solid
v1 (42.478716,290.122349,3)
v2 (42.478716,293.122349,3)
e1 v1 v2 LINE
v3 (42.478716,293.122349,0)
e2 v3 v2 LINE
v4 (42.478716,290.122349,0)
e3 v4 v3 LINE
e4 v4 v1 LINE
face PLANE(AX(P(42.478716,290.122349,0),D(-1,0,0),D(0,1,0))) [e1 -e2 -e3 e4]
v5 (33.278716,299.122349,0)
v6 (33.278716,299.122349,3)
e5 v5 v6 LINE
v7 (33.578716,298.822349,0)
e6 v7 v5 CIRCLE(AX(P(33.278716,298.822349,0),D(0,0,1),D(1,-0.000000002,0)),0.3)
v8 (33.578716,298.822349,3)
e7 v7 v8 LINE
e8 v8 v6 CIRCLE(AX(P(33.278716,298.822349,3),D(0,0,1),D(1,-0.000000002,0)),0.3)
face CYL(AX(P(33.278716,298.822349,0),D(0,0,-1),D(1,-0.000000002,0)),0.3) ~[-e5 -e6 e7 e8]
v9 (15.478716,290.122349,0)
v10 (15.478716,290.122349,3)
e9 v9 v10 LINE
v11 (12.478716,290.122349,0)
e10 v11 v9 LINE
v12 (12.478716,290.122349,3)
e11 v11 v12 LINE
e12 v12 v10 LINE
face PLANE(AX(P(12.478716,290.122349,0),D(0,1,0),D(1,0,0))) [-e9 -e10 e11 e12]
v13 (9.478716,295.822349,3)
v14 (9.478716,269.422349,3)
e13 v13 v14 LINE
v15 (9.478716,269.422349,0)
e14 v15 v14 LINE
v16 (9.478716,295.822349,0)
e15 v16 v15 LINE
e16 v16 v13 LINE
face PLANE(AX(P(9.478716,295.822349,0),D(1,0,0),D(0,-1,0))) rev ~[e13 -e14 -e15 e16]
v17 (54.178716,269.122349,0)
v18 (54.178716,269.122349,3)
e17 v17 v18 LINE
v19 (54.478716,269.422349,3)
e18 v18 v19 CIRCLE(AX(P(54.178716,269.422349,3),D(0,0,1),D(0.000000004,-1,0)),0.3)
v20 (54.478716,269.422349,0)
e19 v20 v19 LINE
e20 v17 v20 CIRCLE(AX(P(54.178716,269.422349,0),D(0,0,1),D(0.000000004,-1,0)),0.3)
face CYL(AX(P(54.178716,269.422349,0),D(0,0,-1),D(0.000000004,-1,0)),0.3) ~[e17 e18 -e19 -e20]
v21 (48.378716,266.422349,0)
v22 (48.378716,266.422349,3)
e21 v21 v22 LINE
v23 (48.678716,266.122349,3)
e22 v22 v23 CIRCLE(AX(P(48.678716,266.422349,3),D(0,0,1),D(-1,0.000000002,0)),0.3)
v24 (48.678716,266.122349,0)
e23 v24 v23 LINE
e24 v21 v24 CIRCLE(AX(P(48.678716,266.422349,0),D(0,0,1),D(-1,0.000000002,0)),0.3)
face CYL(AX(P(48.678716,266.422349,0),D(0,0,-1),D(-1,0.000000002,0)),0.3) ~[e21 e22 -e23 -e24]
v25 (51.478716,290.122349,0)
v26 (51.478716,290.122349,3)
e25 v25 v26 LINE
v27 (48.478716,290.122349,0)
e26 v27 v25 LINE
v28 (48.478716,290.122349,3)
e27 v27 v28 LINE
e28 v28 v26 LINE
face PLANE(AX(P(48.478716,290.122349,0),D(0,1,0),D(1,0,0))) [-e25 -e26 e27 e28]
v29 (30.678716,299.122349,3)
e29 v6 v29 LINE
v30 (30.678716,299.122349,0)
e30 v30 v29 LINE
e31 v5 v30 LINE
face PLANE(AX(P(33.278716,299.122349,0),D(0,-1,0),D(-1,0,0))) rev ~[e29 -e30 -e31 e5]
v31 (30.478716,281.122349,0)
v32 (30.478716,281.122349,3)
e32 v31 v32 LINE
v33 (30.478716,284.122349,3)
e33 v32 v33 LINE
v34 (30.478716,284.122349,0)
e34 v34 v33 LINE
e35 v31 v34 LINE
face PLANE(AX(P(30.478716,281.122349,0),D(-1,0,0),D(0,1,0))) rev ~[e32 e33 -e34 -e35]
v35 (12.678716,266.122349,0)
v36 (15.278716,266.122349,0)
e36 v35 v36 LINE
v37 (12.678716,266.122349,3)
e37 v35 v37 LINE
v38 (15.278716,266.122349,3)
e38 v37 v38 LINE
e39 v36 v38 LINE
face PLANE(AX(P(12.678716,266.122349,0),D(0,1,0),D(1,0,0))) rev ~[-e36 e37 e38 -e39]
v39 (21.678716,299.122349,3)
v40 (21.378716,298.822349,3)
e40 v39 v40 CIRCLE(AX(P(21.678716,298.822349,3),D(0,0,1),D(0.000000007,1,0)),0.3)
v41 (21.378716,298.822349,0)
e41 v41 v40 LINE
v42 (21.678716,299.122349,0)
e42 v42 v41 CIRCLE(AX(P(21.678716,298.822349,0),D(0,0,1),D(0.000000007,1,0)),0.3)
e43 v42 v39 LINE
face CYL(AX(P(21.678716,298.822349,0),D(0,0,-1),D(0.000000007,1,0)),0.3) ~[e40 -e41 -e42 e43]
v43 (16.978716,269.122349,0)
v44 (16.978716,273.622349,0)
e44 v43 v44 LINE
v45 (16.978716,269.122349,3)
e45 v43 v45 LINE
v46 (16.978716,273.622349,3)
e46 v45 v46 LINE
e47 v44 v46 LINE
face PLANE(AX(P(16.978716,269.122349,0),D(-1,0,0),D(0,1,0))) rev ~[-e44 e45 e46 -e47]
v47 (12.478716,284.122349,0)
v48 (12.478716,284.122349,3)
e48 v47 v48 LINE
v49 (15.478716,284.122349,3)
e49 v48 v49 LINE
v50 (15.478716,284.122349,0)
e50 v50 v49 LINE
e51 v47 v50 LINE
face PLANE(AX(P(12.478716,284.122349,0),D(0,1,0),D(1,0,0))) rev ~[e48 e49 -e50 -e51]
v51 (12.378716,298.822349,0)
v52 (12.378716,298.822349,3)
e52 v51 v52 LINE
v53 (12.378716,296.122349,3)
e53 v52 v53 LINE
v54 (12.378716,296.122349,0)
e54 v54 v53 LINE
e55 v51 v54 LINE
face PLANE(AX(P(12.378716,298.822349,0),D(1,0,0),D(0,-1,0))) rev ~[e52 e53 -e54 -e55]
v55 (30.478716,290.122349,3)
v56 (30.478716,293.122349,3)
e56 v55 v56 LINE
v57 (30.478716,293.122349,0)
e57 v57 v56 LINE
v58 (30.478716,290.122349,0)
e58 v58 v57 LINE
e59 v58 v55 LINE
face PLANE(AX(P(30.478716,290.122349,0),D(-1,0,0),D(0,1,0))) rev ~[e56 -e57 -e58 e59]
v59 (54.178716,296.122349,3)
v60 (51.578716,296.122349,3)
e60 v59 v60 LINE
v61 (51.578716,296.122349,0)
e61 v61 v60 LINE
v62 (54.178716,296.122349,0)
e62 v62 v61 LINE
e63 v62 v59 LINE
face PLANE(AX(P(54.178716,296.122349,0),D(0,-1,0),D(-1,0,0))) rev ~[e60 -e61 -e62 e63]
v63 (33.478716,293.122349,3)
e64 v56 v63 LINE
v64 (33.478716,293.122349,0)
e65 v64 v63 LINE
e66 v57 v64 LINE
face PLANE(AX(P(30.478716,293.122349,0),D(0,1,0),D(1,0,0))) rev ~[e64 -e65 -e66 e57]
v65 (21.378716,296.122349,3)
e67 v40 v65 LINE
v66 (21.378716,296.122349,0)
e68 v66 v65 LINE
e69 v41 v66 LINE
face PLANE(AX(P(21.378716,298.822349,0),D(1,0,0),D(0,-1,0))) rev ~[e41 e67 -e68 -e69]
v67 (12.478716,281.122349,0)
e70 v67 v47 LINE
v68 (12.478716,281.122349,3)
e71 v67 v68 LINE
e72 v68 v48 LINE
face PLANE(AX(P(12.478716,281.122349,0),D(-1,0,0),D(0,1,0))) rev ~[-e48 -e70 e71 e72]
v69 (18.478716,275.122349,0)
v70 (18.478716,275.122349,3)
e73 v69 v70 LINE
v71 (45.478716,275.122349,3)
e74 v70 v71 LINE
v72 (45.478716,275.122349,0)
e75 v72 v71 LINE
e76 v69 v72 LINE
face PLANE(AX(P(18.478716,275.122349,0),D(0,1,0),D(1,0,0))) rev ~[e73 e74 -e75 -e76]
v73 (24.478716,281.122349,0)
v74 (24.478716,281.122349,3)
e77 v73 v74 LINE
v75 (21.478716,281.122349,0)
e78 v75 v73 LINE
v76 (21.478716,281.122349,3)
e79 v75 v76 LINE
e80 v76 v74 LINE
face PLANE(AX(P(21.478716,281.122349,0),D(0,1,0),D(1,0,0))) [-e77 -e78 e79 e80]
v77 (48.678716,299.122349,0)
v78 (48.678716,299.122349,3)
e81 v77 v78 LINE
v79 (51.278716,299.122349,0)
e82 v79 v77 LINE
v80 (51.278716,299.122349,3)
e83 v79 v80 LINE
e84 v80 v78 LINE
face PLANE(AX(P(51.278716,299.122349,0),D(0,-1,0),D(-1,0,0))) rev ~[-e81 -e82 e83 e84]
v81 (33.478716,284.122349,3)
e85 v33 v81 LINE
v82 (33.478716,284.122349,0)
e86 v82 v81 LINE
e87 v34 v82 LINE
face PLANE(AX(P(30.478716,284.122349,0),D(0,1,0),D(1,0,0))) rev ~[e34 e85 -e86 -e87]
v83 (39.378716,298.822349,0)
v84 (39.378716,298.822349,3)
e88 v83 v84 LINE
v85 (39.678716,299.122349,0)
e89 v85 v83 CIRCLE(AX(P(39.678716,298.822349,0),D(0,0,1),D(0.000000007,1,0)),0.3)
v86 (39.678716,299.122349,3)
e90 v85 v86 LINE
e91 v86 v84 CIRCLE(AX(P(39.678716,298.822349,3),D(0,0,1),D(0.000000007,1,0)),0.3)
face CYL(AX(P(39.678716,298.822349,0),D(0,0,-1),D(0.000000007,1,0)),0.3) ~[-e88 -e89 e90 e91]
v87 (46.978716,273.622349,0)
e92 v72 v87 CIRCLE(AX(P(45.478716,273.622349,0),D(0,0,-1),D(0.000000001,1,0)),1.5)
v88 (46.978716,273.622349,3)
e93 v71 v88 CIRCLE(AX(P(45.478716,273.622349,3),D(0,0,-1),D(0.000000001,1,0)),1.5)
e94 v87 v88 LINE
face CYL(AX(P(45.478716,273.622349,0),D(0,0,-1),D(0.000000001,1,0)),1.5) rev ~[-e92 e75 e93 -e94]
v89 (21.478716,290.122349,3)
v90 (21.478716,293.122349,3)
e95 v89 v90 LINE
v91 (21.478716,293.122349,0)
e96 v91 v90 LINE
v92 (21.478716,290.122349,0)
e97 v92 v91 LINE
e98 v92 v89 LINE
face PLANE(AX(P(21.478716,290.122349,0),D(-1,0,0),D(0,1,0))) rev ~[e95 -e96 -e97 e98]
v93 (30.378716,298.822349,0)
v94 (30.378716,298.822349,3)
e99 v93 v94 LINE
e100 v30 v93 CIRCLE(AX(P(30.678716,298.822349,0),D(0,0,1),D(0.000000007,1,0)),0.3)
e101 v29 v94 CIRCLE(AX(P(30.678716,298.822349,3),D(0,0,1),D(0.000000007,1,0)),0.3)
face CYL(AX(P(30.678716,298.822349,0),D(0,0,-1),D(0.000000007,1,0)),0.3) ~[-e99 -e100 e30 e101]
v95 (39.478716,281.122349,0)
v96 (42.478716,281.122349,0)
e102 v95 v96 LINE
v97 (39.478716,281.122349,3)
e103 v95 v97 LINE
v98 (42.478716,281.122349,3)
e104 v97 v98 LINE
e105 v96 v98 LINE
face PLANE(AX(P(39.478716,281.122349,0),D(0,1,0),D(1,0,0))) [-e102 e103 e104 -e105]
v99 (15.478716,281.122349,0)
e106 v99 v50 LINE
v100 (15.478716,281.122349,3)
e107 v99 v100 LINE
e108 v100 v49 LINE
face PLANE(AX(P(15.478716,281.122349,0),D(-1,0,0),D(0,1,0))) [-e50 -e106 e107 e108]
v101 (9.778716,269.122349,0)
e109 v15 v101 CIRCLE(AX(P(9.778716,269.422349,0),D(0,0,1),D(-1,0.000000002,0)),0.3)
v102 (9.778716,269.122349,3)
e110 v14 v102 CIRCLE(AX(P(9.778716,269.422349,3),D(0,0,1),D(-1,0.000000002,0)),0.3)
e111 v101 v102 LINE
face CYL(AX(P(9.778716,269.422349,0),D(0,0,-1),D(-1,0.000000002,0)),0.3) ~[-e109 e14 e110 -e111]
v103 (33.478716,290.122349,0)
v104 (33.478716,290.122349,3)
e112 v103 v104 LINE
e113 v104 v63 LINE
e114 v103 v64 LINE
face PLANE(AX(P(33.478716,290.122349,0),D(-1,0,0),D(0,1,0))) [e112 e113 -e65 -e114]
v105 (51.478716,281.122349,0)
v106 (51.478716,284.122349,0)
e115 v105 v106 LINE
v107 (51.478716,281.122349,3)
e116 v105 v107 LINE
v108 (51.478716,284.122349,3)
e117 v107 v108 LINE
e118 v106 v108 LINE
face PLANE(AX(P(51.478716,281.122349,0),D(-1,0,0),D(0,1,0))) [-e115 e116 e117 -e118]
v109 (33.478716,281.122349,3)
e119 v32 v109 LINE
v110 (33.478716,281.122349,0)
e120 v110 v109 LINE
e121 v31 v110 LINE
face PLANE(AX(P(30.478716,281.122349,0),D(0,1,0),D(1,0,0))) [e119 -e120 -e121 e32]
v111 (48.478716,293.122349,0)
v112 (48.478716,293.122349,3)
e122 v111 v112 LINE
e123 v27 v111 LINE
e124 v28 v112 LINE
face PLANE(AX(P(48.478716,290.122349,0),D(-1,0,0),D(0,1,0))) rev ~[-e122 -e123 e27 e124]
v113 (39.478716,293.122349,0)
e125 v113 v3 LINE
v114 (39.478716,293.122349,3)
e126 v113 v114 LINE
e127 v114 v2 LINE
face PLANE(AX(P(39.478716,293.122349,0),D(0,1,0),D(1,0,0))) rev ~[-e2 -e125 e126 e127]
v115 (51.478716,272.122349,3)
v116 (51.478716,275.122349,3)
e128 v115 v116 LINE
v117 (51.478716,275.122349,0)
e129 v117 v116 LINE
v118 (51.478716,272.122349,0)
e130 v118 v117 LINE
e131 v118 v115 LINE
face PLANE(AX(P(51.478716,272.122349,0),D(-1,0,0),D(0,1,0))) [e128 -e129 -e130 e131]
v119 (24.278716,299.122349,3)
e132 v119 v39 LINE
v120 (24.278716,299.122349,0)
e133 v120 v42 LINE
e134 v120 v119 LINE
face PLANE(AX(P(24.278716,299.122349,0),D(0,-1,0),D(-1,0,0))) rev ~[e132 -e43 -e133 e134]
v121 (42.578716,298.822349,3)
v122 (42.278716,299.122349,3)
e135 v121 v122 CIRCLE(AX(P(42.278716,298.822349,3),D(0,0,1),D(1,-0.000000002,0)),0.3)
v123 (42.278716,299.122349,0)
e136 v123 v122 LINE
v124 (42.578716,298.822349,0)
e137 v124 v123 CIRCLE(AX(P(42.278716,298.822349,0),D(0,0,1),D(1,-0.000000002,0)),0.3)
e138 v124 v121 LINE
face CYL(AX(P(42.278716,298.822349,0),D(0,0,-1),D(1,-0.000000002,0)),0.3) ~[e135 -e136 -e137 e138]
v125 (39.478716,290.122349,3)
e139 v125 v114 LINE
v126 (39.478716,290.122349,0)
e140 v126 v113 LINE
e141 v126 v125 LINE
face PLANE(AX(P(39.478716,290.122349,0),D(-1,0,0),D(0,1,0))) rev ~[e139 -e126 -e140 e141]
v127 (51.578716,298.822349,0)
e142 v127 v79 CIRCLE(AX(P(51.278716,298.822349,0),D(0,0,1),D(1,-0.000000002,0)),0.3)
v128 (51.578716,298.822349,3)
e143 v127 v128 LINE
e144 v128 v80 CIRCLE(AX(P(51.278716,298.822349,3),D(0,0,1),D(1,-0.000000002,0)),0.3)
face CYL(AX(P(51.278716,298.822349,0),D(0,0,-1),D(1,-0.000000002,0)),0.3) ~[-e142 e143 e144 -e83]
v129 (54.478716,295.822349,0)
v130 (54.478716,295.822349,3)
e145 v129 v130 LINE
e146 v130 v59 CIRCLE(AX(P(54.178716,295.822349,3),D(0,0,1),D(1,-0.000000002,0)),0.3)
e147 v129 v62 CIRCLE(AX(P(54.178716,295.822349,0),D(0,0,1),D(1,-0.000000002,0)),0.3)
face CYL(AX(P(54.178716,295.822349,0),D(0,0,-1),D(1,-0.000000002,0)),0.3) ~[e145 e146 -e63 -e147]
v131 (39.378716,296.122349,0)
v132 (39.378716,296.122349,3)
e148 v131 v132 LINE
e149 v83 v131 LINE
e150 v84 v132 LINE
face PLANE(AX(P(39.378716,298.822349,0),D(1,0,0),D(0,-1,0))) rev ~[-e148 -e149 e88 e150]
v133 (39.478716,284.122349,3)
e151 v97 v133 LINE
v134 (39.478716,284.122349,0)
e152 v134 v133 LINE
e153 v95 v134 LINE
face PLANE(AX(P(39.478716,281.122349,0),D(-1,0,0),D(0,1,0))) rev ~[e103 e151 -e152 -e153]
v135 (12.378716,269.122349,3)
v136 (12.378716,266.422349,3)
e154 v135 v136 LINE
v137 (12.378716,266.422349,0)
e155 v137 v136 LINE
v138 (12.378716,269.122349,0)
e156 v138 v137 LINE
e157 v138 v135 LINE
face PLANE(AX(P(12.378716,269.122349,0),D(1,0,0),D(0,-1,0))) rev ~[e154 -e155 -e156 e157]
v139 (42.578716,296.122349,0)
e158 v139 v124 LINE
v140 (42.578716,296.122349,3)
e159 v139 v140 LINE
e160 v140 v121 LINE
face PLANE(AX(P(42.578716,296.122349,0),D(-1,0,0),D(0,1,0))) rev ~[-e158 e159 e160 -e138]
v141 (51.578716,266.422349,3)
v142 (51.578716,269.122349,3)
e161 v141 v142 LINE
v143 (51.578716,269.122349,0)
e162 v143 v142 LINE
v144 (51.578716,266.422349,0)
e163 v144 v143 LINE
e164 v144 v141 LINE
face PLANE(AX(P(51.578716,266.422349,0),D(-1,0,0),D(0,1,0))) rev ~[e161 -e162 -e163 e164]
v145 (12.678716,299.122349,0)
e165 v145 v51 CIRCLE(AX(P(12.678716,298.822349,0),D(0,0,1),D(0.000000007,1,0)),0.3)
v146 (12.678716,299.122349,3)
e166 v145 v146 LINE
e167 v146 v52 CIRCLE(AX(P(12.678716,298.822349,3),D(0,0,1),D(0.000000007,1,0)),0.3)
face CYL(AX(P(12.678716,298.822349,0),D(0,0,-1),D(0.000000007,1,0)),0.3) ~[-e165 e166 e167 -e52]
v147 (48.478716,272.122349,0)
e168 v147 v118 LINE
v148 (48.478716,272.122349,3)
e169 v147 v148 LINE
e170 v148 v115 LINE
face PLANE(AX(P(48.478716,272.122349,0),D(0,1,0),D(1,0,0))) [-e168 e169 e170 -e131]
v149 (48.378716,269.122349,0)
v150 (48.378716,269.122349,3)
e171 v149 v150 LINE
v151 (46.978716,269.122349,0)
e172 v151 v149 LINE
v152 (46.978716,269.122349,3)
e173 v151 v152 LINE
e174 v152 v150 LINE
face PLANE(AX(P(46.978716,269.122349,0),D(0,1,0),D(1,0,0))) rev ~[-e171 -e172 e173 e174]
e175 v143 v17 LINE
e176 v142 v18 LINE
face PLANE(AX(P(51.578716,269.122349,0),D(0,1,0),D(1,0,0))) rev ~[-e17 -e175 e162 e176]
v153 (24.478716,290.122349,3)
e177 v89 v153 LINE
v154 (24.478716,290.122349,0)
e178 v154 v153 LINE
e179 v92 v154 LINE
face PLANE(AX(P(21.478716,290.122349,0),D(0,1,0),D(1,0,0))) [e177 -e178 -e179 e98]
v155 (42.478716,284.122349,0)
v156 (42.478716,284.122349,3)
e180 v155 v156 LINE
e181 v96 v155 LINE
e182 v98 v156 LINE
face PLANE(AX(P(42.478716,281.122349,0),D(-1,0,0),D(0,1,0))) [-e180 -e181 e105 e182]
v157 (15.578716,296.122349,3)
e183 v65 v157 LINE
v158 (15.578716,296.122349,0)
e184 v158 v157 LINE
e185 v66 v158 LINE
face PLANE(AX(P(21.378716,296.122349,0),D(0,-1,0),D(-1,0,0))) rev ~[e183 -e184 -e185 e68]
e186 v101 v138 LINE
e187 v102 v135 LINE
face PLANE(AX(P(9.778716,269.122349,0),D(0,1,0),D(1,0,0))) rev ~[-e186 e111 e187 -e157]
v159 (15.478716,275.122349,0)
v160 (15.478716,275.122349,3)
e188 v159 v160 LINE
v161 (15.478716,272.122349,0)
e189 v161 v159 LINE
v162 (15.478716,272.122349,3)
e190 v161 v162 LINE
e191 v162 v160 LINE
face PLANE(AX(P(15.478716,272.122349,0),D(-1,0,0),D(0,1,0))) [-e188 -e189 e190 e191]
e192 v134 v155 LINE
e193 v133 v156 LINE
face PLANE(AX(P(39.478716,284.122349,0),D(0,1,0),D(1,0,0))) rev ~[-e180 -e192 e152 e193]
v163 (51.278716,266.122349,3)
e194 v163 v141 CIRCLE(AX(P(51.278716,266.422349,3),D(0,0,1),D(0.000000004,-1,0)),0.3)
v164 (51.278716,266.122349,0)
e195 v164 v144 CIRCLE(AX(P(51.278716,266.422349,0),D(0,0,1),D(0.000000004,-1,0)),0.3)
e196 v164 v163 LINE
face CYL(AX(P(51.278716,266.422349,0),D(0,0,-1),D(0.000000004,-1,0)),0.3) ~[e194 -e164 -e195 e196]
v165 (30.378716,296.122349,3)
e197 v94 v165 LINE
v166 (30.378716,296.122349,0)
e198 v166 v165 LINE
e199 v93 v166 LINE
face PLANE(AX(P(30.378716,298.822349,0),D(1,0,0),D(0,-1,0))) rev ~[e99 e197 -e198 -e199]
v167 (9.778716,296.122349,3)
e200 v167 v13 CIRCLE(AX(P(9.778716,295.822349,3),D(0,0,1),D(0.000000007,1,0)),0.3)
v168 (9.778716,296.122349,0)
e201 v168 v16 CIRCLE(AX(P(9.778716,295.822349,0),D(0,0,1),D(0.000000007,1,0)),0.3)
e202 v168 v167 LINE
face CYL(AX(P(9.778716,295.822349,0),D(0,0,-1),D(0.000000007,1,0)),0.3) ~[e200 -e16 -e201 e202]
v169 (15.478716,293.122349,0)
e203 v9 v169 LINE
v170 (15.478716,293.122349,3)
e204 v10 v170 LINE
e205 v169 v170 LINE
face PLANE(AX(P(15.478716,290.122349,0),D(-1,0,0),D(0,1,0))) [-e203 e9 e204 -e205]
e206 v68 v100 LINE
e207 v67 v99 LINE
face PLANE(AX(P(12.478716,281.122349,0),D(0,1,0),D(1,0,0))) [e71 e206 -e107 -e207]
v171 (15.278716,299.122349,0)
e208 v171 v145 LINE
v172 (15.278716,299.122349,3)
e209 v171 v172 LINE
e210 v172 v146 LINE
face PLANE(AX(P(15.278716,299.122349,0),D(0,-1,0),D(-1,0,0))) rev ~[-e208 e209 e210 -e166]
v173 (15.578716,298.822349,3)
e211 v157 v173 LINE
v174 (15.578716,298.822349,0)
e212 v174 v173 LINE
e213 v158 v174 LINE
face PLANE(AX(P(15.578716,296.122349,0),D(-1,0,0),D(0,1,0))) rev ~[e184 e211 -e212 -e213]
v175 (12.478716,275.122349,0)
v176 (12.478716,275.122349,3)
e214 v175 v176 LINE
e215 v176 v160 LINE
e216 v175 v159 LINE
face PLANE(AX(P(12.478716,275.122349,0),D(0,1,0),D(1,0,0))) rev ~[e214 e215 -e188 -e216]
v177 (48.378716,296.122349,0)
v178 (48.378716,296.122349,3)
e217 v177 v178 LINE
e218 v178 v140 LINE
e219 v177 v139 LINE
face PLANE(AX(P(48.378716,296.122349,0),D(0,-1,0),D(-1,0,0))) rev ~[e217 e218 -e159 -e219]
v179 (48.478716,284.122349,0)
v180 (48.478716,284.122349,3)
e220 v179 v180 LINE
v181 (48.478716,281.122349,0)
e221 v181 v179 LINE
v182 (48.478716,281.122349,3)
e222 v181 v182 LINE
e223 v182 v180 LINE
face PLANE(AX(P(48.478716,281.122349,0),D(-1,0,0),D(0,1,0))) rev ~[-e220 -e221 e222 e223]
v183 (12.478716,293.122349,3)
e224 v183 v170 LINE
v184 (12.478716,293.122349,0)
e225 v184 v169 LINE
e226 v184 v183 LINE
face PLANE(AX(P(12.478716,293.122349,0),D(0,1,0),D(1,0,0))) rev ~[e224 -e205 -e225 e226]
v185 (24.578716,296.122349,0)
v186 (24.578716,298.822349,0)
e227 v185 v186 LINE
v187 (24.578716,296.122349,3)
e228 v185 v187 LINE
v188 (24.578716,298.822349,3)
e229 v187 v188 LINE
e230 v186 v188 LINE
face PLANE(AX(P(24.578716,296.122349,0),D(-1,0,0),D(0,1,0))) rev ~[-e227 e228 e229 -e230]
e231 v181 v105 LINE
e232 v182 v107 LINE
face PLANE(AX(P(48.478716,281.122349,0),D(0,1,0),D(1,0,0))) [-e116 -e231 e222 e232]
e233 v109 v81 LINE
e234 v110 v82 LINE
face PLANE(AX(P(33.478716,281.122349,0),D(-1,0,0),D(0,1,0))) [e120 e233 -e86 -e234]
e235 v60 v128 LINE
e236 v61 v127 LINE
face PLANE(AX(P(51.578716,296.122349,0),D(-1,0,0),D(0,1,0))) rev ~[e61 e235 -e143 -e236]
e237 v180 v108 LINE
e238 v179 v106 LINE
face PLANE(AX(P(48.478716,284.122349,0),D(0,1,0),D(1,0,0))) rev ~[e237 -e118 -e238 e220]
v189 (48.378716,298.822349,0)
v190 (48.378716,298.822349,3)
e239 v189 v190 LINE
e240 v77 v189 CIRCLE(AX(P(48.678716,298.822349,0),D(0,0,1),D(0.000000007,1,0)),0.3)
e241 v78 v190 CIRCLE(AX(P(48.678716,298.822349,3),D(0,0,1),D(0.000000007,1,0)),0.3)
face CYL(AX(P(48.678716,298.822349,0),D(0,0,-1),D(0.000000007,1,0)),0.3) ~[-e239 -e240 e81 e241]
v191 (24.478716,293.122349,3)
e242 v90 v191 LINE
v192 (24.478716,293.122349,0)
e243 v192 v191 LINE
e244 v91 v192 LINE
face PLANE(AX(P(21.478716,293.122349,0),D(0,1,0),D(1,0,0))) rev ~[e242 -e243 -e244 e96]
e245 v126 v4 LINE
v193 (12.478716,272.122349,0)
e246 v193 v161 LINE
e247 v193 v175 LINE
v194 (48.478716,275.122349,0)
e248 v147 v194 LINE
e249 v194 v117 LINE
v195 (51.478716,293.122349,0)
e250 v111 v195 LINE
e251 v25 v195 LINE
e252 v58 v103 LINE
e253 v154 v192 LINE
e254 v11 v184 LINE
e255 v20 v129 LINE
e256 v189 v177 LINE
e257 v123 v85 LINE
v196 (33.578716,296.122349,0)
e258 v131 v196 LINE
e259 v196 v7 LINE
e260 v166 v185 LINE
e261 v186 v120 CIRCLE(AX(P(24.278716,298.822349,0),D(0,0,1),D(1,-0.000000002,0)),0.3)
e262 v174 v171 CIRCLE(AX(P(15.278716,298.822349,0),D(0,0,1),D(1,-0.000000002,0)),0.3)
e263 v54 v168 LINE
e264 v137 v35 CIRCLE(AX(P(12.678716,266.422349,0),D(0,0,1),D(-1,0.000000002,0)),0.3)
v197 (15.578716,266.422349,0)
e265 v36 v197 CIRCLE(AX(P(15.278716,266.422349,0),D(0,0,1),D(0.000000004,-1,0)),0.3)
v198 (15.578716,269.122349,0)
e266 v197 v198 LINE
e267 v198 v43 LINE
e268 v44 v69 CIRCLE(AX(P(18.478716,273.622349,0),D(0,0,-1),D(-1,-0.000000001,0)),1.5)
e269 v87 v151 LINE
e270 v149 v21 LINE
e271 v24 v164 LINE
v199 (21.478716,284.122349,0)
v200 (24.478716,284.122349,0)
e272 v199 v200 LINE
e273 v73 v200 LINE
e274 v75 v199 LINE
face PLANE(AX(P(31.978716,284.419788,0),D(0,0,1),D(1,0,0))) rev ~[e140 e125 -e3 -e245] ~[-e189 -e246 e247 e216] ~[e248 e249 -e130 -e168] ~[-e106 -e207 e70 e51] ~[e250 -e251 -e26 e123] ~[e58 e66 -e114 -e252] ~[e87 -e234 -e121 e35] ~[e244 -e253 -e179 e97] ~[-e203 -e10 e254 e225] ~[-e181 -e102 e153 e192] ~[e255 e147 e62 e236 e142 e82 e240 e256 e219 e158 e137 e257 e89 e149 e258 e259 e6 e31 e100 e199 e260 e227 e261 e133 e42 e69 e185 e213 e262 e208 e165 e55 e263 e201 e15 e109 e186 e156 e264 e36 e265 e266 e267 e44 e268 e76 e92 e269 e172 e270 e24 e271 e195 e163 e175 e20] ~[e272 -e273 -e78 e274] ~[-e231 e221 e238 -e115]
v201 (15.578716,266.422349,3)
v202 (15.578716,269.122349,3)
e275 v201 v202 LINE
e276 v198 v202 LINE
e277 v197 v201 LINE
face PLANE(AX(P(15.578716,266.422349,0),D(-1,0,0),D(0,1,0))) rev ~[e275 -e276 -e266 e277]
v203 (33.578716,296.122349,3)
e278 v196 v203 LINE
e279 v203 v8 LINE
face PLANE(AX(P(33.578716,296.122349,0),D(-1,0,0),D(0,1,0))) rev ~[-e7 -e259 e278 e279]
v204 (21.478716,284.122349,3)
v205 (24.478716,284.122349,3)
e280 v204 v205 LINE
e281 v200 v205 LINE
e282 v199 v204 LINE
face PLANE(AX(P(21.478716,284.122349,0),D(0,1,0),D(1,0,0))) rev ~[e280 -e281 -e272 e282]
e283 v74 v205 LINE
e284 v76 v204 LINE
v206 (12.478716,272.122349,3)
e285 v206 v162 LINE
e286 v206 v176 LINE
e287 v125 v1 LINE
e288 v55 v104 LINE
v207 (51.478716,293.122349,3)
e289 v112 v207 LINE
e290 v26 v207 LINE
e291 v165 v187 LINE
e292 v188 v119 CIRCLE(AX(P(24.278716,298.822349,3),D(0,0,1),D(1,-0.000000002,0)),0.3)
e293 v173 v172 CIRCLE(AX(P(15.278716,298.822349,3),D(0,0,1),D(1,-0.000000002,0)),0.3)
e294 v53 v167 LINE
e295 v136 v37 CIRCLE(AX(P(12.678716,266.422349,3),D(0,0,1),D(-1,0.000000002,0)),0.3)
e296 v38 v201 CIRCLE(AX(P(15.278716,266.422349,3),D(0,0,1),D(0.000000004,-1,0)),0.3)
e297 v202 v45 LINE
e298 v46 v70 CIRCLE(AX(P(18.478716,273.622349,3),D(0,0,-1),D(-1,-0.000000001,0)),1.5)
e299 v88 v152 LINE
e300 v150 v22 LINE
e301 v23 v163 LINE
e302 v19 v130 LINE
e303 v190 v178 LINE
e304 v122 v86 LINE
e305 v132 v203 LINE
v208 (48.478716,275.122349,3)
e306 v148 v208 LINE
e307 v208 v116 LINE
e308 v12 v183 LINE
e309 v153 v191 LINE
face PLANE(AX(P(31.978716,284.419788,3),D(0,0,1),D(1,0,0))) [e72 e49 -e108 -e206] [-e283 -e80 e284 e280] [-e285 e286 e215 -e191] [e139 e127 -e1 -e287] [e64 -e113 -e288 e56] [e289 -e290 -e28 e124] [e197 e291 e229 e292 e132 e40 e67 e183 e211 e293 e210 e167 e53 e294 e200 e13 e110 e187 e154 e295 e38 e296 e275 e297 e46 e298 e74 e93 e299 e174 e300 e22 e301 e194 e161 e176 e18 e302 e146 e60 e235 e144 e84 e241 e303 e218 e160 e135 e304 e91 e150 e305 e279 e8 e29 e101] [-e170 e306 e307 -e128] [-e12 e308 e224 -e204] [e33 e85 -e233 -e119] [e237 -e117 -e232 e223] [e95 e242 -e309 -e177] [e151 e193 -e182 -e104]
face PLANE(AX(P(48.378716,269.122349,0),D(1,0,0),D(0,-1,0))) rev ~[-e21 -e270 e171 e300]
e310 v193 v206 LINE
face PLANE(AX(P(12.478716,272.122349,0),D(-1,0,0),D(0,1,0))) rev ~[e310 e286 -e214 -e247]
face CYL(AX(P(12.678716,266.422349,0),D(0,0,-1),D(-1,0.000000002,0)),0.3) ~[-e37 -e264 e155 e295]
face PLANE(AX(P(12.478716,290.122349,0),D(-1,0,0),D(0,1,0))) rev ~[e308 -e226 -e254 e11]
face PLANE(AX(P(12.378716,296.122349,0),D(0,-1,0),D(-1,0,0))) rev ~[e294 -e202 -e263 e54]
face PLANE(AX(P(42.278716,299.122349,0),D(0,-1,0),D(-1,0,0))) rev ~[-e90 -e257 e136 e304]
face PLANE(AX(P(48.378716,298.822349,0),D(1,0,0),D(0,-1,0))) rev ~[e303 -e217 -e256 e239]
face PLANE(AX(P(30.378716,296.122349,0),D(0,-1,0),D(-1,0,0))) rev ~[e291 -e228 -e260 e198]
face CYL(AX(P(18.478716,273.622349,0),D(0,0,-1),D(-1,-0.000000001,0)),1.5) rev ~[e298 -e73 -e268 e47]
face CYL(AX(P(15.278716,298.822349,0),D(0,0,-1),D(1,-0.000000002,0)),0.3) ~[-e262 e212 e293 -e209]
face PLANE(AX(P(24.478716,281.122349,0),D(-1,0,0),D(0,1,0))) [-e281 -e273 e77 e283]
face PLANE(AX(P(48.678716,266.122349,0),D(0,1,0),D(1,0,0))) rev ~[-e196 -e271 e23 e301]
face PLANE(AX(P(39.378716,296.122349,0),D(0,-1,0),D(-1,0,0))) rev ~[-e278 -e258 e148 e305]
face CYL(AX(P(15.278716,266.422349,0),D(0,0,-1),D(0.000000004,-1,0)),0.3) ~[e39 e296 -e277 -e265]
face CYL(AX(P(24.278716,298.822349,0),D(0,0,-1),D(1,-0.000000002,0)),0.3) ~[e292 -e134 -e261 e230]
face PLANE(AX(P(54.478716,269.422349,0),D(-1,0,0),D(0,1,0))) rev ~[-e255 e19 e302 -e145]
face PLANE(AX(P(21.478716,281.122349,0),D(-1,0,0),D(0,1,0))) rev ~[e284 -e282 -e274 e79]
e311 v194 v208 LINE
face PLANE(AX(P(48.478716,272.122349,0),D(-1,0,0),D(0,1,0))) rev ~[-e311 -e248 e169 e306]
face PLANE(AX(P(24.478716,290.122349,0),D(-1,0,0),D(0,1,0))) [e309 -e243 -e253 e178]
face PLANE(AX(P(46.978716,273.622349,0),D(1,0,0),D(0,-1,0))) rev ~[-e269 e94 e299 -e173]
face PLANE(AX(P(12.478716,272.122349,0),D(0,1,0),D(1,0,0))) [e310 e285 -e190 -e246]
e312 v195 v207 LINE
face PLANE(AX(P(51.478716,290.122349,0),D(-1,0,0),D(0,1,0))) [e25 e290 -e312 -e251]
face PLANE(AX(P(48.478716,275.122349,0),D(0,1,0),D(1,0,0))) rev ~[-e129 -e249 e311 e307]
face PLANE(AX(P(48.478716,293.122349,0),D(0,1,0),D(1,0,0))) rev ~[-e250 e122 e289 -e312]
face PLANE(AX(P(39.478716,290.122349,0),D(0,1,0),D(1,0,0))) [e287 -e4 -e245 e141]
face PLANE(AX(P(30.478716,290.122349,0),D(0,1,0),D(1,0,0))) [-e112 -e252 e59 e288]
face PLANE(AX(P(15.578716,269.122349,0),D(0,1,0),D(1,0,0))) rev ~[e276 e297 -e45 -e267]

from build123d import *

# Parameters (mm, degrees)
MODEL_W                 = 3
MODEL_H                 = 3
SALIENTE_EXTRUIR1_DEPTH = 3


with BuildPart() as part:
    # Model → Saliente-Extruir1 (new body)
    with BuildSketch(Plane.XY):
        with BuildLine():
            Line((9.478716471, 295.822349433), (9.478716471, 269.422349433))
            ThreePointArc((9.478716471, 269.422349433), (9.566584436, 269.210217399), (9.778716471, 269.122349433))
            Line((9.778716471, 269.122349433), (12.378716471, 269.122349433))
            Line((12.378716471, 269.122349433), (12.378716471, 266.422349433))
            ThreePointArc((12.378716471, 266.422349433), (12.466584436, 266.210217399), (12.678716471, 266.122349433))
            Line((12.678716471, 266.122349433), (15.278716471, 266.122349433))
            ThreePointArc((15.278716471, 266.122349433), (15.490848505, 266.210217399), (15.578716471, 266.422349433))
            Line((15.578716471, 266.422349433), (15.578716471, 269.122349433))
            Line((15.578716471, 269.122349433), (16.978716471, 269.122349433))
            Line((16.978716471, 269.122349433), (16.978716471, 273.622349433))
            ThreePointArc((16.978716471, 273.622349433), (17.418056299, 274.683009605), (18.478716471, 275.122349433))
            Line((18.478716471, 275.122349433), (45.478716471, 275.122349433))
            ThreePointArc((45.478716471, 275.122349433), (46.539376642, 274.683009605), (46.978716471, 273.622349433))
            Line((46.978716471, 273.622349433), (46.978716471, 269.122349433))
            Line((46.978716471, 269.122349433), (48.378716471, 269.122349433))
            Line((48.378716471, 269.122349433), (48.378716471, 266.422349433))
            ThreePointArc((48.378716471, 266.422349433), (48.466584436, 266.210217399), (48.678716471, 266.122349433))
            Line((48.678716471, 266.122349433), (51.278716471, 266.122349433))
            ThreePointArc((51.278716471, 266.122349433), (51.490848505, 266.210217399), (51.578716471, 266.422349433))
            Line((51.578716471, 266.422349433), (51.578716471, 269.122349433))
            Line((51.578716471, 269.122349433), (54.178716471, 269.122349433))
            ThreePointArc((54.178716471, 269.122349433), (54.390848505, 269.210217399), (54.478716471, 269.422349433))
            Line((54.478716471, 269.422349433), (54.478716471, 295.822349433))
            ThreePointArc((54.478716471, 295.822349433), (54.390848505, 296.034481468), (54.178716471, 296.122349433))
            Line((54.178716471, 296.122349433), (51.578716471, 296.122349433))
            Line((51.578716471, 296.122349433), (51.578716471, 298.822349433))
            ThreePointArc((51.578716471, 298.822349433), (51.490848505, 299.034481468), (51.278716471, 299.122349433))
            Line((51.278716471, 299.122349433), (48.678716471, 299.122349433))
            ThreePointArc((48.678716471, 299.122349433), (48.466584436, 299.034481468), (48.378716471, 298.822349433))
            Line((48.378716471, 298.822349433), (48.378716471, 296.122349433))
            Line((48.378716471, 296.122349433), (42.578716471, 296.122349433))
            Line((42.578716471, 296.122349433), (42.578716471, 298.822349433))
            ThreePointArc((42.578716471, 298.822349433), (42.490848505, 299.034481468), (42.278716471, 299.122349433))
            Line((42.278716471, 299.122349433), (39.678716471, 299.122349433))
            ThreePointArc((39.678716471, 299.122349433), (39.466584436, 299.034481468), (39.378716471, 298.822349433))
            Line((39.378716471, 298.822349433), (39.378716471, 296.122349433))
            Line((39.378716471, 296.122349433), (33.578716471, 296.122349433))
            Line((33.578716471, 296.122349433), (33.578716471, 298.822349433))
            ThreePointArc((33.578716471, 298.822349433), (33.490848505, 299.034481468), (33.278716471, 299.122349433))
            Line((33.278716471, 299.122349433), (30.678716471, 299.122349433))
            ThreePointArc((30.678716471, 299.122349433), (30.466584436, 299.034481468), (30.378716471, 298.822349433))
            Line((30.378716471, 298.822349433), (30.378716471, 296.122349433))
            Line((30.378716471, 296.122349433), (24.578716471, 296.122349433))
            Line((24.578716471, 296.122349433), (24.578716471, 298.822349433))
            ThreePointArc((24.578716471, 298.822349433), (24.490848505, 299.034481468), (24.278716471, 299.122349433))
            Line((24.278716471, 299.122349433), (21.678716471, 299.122349433))
            ThreePointArc((21.678716471, 299.122349433), (21.466584436, 299.034481468), (21.378716471, 298.822349433))
            Line((21.378716471, 298.822349433), (21.378716471, 296.122349433))
            Line((21.378716471, 296.122349433), (15.578716471, 296.122349433))
            Line((15.578716471, 296.122349433), (15.578716471, 298.822349433))
            ThreePointArc((15.578716471, 298.822349433), (15.490848505, 299.034481468), (15.278716471, 299.122349433))
            Line((15.278716471, 299.122349433), (12.678716471, 299.122349433))
            ThreePointArc((12.678716471, 299.122349433), (12.466584436, 299.034481468), (12.378716471, 298.822349433))
            Line((12.378716471, 298.822349433), (12.378716471, 296.122349433))
            Line((12.378716471, 296.122349433), (9.778716471, 296.122349433))
            ThreePointArc((9.778716471, 296.122349433), (9.566584436, 296.034481468), (9.478716471, 295.822349433))
        make_face()
        with Locations((13.978716471, 291.622349433)):
            Rectangle(MODEL_W, MODEL_H, mode=Mode.SUBTRACT)
        with Locations((22.978716471, 291.622349433)):
            Rectangle(MODEL_W, MODEL_H, mode=Mode.SUBTRACT)
        with Locations((31.978716471, 291.622349433)):
            Rectangle(MODEL_W, MODEL_H, mode=Mode.SUBTRACT)
        with Locations((13.978716471, 273.622349433)):
            Rectangle(MODEL_W, MODEL_H, mode=Mode.SUBTRACT)
        with Locations((13.978716471, 282.622349433)):
            Rectangle(MODEL_W, MODEL_H, mode=Mode.SUBTRACT)
        with Locations((22.978716471, 282.622349433)):
            Rectangle(MODEL_W, MODEL_H, mode=Mode.SUBTRACT)
        with Locations((31.978716471, 282.622349433)):
            Rectangle(MODEL_W, MODEL_H, mode=Mode.SUBTRACT)
        with Locations((49.978716471, 291.622349433)):
            Rectangle(MODEL_W, MODEL_H, mode=Mode.SUBTRACT)
        with Locations((49.978716471, 273.622349433)):
            Rectangle(MODEL_W, MODEL_H, mode=Mode.SUBTRACT)
        with Locations((49.978716471, 282.622349433)):
            Rectangle(MODEL_W, MODEL_H, mode=Mode.SUBTRACT)
        with Locations((40.978716471, 291.622349433)):
            Rectangle(MODEL_W, MODEL_H, mode=Mode.SUBTRACT)
        with Locations((40.978716471, 282.622349433)):
            Rectangle(MODEL_W, MODEL_H, mode=Mode.SUBTRACT)
    extrude(amount=SALIENTE_EXTRUIR1_DEPTH)


solid = part.part
